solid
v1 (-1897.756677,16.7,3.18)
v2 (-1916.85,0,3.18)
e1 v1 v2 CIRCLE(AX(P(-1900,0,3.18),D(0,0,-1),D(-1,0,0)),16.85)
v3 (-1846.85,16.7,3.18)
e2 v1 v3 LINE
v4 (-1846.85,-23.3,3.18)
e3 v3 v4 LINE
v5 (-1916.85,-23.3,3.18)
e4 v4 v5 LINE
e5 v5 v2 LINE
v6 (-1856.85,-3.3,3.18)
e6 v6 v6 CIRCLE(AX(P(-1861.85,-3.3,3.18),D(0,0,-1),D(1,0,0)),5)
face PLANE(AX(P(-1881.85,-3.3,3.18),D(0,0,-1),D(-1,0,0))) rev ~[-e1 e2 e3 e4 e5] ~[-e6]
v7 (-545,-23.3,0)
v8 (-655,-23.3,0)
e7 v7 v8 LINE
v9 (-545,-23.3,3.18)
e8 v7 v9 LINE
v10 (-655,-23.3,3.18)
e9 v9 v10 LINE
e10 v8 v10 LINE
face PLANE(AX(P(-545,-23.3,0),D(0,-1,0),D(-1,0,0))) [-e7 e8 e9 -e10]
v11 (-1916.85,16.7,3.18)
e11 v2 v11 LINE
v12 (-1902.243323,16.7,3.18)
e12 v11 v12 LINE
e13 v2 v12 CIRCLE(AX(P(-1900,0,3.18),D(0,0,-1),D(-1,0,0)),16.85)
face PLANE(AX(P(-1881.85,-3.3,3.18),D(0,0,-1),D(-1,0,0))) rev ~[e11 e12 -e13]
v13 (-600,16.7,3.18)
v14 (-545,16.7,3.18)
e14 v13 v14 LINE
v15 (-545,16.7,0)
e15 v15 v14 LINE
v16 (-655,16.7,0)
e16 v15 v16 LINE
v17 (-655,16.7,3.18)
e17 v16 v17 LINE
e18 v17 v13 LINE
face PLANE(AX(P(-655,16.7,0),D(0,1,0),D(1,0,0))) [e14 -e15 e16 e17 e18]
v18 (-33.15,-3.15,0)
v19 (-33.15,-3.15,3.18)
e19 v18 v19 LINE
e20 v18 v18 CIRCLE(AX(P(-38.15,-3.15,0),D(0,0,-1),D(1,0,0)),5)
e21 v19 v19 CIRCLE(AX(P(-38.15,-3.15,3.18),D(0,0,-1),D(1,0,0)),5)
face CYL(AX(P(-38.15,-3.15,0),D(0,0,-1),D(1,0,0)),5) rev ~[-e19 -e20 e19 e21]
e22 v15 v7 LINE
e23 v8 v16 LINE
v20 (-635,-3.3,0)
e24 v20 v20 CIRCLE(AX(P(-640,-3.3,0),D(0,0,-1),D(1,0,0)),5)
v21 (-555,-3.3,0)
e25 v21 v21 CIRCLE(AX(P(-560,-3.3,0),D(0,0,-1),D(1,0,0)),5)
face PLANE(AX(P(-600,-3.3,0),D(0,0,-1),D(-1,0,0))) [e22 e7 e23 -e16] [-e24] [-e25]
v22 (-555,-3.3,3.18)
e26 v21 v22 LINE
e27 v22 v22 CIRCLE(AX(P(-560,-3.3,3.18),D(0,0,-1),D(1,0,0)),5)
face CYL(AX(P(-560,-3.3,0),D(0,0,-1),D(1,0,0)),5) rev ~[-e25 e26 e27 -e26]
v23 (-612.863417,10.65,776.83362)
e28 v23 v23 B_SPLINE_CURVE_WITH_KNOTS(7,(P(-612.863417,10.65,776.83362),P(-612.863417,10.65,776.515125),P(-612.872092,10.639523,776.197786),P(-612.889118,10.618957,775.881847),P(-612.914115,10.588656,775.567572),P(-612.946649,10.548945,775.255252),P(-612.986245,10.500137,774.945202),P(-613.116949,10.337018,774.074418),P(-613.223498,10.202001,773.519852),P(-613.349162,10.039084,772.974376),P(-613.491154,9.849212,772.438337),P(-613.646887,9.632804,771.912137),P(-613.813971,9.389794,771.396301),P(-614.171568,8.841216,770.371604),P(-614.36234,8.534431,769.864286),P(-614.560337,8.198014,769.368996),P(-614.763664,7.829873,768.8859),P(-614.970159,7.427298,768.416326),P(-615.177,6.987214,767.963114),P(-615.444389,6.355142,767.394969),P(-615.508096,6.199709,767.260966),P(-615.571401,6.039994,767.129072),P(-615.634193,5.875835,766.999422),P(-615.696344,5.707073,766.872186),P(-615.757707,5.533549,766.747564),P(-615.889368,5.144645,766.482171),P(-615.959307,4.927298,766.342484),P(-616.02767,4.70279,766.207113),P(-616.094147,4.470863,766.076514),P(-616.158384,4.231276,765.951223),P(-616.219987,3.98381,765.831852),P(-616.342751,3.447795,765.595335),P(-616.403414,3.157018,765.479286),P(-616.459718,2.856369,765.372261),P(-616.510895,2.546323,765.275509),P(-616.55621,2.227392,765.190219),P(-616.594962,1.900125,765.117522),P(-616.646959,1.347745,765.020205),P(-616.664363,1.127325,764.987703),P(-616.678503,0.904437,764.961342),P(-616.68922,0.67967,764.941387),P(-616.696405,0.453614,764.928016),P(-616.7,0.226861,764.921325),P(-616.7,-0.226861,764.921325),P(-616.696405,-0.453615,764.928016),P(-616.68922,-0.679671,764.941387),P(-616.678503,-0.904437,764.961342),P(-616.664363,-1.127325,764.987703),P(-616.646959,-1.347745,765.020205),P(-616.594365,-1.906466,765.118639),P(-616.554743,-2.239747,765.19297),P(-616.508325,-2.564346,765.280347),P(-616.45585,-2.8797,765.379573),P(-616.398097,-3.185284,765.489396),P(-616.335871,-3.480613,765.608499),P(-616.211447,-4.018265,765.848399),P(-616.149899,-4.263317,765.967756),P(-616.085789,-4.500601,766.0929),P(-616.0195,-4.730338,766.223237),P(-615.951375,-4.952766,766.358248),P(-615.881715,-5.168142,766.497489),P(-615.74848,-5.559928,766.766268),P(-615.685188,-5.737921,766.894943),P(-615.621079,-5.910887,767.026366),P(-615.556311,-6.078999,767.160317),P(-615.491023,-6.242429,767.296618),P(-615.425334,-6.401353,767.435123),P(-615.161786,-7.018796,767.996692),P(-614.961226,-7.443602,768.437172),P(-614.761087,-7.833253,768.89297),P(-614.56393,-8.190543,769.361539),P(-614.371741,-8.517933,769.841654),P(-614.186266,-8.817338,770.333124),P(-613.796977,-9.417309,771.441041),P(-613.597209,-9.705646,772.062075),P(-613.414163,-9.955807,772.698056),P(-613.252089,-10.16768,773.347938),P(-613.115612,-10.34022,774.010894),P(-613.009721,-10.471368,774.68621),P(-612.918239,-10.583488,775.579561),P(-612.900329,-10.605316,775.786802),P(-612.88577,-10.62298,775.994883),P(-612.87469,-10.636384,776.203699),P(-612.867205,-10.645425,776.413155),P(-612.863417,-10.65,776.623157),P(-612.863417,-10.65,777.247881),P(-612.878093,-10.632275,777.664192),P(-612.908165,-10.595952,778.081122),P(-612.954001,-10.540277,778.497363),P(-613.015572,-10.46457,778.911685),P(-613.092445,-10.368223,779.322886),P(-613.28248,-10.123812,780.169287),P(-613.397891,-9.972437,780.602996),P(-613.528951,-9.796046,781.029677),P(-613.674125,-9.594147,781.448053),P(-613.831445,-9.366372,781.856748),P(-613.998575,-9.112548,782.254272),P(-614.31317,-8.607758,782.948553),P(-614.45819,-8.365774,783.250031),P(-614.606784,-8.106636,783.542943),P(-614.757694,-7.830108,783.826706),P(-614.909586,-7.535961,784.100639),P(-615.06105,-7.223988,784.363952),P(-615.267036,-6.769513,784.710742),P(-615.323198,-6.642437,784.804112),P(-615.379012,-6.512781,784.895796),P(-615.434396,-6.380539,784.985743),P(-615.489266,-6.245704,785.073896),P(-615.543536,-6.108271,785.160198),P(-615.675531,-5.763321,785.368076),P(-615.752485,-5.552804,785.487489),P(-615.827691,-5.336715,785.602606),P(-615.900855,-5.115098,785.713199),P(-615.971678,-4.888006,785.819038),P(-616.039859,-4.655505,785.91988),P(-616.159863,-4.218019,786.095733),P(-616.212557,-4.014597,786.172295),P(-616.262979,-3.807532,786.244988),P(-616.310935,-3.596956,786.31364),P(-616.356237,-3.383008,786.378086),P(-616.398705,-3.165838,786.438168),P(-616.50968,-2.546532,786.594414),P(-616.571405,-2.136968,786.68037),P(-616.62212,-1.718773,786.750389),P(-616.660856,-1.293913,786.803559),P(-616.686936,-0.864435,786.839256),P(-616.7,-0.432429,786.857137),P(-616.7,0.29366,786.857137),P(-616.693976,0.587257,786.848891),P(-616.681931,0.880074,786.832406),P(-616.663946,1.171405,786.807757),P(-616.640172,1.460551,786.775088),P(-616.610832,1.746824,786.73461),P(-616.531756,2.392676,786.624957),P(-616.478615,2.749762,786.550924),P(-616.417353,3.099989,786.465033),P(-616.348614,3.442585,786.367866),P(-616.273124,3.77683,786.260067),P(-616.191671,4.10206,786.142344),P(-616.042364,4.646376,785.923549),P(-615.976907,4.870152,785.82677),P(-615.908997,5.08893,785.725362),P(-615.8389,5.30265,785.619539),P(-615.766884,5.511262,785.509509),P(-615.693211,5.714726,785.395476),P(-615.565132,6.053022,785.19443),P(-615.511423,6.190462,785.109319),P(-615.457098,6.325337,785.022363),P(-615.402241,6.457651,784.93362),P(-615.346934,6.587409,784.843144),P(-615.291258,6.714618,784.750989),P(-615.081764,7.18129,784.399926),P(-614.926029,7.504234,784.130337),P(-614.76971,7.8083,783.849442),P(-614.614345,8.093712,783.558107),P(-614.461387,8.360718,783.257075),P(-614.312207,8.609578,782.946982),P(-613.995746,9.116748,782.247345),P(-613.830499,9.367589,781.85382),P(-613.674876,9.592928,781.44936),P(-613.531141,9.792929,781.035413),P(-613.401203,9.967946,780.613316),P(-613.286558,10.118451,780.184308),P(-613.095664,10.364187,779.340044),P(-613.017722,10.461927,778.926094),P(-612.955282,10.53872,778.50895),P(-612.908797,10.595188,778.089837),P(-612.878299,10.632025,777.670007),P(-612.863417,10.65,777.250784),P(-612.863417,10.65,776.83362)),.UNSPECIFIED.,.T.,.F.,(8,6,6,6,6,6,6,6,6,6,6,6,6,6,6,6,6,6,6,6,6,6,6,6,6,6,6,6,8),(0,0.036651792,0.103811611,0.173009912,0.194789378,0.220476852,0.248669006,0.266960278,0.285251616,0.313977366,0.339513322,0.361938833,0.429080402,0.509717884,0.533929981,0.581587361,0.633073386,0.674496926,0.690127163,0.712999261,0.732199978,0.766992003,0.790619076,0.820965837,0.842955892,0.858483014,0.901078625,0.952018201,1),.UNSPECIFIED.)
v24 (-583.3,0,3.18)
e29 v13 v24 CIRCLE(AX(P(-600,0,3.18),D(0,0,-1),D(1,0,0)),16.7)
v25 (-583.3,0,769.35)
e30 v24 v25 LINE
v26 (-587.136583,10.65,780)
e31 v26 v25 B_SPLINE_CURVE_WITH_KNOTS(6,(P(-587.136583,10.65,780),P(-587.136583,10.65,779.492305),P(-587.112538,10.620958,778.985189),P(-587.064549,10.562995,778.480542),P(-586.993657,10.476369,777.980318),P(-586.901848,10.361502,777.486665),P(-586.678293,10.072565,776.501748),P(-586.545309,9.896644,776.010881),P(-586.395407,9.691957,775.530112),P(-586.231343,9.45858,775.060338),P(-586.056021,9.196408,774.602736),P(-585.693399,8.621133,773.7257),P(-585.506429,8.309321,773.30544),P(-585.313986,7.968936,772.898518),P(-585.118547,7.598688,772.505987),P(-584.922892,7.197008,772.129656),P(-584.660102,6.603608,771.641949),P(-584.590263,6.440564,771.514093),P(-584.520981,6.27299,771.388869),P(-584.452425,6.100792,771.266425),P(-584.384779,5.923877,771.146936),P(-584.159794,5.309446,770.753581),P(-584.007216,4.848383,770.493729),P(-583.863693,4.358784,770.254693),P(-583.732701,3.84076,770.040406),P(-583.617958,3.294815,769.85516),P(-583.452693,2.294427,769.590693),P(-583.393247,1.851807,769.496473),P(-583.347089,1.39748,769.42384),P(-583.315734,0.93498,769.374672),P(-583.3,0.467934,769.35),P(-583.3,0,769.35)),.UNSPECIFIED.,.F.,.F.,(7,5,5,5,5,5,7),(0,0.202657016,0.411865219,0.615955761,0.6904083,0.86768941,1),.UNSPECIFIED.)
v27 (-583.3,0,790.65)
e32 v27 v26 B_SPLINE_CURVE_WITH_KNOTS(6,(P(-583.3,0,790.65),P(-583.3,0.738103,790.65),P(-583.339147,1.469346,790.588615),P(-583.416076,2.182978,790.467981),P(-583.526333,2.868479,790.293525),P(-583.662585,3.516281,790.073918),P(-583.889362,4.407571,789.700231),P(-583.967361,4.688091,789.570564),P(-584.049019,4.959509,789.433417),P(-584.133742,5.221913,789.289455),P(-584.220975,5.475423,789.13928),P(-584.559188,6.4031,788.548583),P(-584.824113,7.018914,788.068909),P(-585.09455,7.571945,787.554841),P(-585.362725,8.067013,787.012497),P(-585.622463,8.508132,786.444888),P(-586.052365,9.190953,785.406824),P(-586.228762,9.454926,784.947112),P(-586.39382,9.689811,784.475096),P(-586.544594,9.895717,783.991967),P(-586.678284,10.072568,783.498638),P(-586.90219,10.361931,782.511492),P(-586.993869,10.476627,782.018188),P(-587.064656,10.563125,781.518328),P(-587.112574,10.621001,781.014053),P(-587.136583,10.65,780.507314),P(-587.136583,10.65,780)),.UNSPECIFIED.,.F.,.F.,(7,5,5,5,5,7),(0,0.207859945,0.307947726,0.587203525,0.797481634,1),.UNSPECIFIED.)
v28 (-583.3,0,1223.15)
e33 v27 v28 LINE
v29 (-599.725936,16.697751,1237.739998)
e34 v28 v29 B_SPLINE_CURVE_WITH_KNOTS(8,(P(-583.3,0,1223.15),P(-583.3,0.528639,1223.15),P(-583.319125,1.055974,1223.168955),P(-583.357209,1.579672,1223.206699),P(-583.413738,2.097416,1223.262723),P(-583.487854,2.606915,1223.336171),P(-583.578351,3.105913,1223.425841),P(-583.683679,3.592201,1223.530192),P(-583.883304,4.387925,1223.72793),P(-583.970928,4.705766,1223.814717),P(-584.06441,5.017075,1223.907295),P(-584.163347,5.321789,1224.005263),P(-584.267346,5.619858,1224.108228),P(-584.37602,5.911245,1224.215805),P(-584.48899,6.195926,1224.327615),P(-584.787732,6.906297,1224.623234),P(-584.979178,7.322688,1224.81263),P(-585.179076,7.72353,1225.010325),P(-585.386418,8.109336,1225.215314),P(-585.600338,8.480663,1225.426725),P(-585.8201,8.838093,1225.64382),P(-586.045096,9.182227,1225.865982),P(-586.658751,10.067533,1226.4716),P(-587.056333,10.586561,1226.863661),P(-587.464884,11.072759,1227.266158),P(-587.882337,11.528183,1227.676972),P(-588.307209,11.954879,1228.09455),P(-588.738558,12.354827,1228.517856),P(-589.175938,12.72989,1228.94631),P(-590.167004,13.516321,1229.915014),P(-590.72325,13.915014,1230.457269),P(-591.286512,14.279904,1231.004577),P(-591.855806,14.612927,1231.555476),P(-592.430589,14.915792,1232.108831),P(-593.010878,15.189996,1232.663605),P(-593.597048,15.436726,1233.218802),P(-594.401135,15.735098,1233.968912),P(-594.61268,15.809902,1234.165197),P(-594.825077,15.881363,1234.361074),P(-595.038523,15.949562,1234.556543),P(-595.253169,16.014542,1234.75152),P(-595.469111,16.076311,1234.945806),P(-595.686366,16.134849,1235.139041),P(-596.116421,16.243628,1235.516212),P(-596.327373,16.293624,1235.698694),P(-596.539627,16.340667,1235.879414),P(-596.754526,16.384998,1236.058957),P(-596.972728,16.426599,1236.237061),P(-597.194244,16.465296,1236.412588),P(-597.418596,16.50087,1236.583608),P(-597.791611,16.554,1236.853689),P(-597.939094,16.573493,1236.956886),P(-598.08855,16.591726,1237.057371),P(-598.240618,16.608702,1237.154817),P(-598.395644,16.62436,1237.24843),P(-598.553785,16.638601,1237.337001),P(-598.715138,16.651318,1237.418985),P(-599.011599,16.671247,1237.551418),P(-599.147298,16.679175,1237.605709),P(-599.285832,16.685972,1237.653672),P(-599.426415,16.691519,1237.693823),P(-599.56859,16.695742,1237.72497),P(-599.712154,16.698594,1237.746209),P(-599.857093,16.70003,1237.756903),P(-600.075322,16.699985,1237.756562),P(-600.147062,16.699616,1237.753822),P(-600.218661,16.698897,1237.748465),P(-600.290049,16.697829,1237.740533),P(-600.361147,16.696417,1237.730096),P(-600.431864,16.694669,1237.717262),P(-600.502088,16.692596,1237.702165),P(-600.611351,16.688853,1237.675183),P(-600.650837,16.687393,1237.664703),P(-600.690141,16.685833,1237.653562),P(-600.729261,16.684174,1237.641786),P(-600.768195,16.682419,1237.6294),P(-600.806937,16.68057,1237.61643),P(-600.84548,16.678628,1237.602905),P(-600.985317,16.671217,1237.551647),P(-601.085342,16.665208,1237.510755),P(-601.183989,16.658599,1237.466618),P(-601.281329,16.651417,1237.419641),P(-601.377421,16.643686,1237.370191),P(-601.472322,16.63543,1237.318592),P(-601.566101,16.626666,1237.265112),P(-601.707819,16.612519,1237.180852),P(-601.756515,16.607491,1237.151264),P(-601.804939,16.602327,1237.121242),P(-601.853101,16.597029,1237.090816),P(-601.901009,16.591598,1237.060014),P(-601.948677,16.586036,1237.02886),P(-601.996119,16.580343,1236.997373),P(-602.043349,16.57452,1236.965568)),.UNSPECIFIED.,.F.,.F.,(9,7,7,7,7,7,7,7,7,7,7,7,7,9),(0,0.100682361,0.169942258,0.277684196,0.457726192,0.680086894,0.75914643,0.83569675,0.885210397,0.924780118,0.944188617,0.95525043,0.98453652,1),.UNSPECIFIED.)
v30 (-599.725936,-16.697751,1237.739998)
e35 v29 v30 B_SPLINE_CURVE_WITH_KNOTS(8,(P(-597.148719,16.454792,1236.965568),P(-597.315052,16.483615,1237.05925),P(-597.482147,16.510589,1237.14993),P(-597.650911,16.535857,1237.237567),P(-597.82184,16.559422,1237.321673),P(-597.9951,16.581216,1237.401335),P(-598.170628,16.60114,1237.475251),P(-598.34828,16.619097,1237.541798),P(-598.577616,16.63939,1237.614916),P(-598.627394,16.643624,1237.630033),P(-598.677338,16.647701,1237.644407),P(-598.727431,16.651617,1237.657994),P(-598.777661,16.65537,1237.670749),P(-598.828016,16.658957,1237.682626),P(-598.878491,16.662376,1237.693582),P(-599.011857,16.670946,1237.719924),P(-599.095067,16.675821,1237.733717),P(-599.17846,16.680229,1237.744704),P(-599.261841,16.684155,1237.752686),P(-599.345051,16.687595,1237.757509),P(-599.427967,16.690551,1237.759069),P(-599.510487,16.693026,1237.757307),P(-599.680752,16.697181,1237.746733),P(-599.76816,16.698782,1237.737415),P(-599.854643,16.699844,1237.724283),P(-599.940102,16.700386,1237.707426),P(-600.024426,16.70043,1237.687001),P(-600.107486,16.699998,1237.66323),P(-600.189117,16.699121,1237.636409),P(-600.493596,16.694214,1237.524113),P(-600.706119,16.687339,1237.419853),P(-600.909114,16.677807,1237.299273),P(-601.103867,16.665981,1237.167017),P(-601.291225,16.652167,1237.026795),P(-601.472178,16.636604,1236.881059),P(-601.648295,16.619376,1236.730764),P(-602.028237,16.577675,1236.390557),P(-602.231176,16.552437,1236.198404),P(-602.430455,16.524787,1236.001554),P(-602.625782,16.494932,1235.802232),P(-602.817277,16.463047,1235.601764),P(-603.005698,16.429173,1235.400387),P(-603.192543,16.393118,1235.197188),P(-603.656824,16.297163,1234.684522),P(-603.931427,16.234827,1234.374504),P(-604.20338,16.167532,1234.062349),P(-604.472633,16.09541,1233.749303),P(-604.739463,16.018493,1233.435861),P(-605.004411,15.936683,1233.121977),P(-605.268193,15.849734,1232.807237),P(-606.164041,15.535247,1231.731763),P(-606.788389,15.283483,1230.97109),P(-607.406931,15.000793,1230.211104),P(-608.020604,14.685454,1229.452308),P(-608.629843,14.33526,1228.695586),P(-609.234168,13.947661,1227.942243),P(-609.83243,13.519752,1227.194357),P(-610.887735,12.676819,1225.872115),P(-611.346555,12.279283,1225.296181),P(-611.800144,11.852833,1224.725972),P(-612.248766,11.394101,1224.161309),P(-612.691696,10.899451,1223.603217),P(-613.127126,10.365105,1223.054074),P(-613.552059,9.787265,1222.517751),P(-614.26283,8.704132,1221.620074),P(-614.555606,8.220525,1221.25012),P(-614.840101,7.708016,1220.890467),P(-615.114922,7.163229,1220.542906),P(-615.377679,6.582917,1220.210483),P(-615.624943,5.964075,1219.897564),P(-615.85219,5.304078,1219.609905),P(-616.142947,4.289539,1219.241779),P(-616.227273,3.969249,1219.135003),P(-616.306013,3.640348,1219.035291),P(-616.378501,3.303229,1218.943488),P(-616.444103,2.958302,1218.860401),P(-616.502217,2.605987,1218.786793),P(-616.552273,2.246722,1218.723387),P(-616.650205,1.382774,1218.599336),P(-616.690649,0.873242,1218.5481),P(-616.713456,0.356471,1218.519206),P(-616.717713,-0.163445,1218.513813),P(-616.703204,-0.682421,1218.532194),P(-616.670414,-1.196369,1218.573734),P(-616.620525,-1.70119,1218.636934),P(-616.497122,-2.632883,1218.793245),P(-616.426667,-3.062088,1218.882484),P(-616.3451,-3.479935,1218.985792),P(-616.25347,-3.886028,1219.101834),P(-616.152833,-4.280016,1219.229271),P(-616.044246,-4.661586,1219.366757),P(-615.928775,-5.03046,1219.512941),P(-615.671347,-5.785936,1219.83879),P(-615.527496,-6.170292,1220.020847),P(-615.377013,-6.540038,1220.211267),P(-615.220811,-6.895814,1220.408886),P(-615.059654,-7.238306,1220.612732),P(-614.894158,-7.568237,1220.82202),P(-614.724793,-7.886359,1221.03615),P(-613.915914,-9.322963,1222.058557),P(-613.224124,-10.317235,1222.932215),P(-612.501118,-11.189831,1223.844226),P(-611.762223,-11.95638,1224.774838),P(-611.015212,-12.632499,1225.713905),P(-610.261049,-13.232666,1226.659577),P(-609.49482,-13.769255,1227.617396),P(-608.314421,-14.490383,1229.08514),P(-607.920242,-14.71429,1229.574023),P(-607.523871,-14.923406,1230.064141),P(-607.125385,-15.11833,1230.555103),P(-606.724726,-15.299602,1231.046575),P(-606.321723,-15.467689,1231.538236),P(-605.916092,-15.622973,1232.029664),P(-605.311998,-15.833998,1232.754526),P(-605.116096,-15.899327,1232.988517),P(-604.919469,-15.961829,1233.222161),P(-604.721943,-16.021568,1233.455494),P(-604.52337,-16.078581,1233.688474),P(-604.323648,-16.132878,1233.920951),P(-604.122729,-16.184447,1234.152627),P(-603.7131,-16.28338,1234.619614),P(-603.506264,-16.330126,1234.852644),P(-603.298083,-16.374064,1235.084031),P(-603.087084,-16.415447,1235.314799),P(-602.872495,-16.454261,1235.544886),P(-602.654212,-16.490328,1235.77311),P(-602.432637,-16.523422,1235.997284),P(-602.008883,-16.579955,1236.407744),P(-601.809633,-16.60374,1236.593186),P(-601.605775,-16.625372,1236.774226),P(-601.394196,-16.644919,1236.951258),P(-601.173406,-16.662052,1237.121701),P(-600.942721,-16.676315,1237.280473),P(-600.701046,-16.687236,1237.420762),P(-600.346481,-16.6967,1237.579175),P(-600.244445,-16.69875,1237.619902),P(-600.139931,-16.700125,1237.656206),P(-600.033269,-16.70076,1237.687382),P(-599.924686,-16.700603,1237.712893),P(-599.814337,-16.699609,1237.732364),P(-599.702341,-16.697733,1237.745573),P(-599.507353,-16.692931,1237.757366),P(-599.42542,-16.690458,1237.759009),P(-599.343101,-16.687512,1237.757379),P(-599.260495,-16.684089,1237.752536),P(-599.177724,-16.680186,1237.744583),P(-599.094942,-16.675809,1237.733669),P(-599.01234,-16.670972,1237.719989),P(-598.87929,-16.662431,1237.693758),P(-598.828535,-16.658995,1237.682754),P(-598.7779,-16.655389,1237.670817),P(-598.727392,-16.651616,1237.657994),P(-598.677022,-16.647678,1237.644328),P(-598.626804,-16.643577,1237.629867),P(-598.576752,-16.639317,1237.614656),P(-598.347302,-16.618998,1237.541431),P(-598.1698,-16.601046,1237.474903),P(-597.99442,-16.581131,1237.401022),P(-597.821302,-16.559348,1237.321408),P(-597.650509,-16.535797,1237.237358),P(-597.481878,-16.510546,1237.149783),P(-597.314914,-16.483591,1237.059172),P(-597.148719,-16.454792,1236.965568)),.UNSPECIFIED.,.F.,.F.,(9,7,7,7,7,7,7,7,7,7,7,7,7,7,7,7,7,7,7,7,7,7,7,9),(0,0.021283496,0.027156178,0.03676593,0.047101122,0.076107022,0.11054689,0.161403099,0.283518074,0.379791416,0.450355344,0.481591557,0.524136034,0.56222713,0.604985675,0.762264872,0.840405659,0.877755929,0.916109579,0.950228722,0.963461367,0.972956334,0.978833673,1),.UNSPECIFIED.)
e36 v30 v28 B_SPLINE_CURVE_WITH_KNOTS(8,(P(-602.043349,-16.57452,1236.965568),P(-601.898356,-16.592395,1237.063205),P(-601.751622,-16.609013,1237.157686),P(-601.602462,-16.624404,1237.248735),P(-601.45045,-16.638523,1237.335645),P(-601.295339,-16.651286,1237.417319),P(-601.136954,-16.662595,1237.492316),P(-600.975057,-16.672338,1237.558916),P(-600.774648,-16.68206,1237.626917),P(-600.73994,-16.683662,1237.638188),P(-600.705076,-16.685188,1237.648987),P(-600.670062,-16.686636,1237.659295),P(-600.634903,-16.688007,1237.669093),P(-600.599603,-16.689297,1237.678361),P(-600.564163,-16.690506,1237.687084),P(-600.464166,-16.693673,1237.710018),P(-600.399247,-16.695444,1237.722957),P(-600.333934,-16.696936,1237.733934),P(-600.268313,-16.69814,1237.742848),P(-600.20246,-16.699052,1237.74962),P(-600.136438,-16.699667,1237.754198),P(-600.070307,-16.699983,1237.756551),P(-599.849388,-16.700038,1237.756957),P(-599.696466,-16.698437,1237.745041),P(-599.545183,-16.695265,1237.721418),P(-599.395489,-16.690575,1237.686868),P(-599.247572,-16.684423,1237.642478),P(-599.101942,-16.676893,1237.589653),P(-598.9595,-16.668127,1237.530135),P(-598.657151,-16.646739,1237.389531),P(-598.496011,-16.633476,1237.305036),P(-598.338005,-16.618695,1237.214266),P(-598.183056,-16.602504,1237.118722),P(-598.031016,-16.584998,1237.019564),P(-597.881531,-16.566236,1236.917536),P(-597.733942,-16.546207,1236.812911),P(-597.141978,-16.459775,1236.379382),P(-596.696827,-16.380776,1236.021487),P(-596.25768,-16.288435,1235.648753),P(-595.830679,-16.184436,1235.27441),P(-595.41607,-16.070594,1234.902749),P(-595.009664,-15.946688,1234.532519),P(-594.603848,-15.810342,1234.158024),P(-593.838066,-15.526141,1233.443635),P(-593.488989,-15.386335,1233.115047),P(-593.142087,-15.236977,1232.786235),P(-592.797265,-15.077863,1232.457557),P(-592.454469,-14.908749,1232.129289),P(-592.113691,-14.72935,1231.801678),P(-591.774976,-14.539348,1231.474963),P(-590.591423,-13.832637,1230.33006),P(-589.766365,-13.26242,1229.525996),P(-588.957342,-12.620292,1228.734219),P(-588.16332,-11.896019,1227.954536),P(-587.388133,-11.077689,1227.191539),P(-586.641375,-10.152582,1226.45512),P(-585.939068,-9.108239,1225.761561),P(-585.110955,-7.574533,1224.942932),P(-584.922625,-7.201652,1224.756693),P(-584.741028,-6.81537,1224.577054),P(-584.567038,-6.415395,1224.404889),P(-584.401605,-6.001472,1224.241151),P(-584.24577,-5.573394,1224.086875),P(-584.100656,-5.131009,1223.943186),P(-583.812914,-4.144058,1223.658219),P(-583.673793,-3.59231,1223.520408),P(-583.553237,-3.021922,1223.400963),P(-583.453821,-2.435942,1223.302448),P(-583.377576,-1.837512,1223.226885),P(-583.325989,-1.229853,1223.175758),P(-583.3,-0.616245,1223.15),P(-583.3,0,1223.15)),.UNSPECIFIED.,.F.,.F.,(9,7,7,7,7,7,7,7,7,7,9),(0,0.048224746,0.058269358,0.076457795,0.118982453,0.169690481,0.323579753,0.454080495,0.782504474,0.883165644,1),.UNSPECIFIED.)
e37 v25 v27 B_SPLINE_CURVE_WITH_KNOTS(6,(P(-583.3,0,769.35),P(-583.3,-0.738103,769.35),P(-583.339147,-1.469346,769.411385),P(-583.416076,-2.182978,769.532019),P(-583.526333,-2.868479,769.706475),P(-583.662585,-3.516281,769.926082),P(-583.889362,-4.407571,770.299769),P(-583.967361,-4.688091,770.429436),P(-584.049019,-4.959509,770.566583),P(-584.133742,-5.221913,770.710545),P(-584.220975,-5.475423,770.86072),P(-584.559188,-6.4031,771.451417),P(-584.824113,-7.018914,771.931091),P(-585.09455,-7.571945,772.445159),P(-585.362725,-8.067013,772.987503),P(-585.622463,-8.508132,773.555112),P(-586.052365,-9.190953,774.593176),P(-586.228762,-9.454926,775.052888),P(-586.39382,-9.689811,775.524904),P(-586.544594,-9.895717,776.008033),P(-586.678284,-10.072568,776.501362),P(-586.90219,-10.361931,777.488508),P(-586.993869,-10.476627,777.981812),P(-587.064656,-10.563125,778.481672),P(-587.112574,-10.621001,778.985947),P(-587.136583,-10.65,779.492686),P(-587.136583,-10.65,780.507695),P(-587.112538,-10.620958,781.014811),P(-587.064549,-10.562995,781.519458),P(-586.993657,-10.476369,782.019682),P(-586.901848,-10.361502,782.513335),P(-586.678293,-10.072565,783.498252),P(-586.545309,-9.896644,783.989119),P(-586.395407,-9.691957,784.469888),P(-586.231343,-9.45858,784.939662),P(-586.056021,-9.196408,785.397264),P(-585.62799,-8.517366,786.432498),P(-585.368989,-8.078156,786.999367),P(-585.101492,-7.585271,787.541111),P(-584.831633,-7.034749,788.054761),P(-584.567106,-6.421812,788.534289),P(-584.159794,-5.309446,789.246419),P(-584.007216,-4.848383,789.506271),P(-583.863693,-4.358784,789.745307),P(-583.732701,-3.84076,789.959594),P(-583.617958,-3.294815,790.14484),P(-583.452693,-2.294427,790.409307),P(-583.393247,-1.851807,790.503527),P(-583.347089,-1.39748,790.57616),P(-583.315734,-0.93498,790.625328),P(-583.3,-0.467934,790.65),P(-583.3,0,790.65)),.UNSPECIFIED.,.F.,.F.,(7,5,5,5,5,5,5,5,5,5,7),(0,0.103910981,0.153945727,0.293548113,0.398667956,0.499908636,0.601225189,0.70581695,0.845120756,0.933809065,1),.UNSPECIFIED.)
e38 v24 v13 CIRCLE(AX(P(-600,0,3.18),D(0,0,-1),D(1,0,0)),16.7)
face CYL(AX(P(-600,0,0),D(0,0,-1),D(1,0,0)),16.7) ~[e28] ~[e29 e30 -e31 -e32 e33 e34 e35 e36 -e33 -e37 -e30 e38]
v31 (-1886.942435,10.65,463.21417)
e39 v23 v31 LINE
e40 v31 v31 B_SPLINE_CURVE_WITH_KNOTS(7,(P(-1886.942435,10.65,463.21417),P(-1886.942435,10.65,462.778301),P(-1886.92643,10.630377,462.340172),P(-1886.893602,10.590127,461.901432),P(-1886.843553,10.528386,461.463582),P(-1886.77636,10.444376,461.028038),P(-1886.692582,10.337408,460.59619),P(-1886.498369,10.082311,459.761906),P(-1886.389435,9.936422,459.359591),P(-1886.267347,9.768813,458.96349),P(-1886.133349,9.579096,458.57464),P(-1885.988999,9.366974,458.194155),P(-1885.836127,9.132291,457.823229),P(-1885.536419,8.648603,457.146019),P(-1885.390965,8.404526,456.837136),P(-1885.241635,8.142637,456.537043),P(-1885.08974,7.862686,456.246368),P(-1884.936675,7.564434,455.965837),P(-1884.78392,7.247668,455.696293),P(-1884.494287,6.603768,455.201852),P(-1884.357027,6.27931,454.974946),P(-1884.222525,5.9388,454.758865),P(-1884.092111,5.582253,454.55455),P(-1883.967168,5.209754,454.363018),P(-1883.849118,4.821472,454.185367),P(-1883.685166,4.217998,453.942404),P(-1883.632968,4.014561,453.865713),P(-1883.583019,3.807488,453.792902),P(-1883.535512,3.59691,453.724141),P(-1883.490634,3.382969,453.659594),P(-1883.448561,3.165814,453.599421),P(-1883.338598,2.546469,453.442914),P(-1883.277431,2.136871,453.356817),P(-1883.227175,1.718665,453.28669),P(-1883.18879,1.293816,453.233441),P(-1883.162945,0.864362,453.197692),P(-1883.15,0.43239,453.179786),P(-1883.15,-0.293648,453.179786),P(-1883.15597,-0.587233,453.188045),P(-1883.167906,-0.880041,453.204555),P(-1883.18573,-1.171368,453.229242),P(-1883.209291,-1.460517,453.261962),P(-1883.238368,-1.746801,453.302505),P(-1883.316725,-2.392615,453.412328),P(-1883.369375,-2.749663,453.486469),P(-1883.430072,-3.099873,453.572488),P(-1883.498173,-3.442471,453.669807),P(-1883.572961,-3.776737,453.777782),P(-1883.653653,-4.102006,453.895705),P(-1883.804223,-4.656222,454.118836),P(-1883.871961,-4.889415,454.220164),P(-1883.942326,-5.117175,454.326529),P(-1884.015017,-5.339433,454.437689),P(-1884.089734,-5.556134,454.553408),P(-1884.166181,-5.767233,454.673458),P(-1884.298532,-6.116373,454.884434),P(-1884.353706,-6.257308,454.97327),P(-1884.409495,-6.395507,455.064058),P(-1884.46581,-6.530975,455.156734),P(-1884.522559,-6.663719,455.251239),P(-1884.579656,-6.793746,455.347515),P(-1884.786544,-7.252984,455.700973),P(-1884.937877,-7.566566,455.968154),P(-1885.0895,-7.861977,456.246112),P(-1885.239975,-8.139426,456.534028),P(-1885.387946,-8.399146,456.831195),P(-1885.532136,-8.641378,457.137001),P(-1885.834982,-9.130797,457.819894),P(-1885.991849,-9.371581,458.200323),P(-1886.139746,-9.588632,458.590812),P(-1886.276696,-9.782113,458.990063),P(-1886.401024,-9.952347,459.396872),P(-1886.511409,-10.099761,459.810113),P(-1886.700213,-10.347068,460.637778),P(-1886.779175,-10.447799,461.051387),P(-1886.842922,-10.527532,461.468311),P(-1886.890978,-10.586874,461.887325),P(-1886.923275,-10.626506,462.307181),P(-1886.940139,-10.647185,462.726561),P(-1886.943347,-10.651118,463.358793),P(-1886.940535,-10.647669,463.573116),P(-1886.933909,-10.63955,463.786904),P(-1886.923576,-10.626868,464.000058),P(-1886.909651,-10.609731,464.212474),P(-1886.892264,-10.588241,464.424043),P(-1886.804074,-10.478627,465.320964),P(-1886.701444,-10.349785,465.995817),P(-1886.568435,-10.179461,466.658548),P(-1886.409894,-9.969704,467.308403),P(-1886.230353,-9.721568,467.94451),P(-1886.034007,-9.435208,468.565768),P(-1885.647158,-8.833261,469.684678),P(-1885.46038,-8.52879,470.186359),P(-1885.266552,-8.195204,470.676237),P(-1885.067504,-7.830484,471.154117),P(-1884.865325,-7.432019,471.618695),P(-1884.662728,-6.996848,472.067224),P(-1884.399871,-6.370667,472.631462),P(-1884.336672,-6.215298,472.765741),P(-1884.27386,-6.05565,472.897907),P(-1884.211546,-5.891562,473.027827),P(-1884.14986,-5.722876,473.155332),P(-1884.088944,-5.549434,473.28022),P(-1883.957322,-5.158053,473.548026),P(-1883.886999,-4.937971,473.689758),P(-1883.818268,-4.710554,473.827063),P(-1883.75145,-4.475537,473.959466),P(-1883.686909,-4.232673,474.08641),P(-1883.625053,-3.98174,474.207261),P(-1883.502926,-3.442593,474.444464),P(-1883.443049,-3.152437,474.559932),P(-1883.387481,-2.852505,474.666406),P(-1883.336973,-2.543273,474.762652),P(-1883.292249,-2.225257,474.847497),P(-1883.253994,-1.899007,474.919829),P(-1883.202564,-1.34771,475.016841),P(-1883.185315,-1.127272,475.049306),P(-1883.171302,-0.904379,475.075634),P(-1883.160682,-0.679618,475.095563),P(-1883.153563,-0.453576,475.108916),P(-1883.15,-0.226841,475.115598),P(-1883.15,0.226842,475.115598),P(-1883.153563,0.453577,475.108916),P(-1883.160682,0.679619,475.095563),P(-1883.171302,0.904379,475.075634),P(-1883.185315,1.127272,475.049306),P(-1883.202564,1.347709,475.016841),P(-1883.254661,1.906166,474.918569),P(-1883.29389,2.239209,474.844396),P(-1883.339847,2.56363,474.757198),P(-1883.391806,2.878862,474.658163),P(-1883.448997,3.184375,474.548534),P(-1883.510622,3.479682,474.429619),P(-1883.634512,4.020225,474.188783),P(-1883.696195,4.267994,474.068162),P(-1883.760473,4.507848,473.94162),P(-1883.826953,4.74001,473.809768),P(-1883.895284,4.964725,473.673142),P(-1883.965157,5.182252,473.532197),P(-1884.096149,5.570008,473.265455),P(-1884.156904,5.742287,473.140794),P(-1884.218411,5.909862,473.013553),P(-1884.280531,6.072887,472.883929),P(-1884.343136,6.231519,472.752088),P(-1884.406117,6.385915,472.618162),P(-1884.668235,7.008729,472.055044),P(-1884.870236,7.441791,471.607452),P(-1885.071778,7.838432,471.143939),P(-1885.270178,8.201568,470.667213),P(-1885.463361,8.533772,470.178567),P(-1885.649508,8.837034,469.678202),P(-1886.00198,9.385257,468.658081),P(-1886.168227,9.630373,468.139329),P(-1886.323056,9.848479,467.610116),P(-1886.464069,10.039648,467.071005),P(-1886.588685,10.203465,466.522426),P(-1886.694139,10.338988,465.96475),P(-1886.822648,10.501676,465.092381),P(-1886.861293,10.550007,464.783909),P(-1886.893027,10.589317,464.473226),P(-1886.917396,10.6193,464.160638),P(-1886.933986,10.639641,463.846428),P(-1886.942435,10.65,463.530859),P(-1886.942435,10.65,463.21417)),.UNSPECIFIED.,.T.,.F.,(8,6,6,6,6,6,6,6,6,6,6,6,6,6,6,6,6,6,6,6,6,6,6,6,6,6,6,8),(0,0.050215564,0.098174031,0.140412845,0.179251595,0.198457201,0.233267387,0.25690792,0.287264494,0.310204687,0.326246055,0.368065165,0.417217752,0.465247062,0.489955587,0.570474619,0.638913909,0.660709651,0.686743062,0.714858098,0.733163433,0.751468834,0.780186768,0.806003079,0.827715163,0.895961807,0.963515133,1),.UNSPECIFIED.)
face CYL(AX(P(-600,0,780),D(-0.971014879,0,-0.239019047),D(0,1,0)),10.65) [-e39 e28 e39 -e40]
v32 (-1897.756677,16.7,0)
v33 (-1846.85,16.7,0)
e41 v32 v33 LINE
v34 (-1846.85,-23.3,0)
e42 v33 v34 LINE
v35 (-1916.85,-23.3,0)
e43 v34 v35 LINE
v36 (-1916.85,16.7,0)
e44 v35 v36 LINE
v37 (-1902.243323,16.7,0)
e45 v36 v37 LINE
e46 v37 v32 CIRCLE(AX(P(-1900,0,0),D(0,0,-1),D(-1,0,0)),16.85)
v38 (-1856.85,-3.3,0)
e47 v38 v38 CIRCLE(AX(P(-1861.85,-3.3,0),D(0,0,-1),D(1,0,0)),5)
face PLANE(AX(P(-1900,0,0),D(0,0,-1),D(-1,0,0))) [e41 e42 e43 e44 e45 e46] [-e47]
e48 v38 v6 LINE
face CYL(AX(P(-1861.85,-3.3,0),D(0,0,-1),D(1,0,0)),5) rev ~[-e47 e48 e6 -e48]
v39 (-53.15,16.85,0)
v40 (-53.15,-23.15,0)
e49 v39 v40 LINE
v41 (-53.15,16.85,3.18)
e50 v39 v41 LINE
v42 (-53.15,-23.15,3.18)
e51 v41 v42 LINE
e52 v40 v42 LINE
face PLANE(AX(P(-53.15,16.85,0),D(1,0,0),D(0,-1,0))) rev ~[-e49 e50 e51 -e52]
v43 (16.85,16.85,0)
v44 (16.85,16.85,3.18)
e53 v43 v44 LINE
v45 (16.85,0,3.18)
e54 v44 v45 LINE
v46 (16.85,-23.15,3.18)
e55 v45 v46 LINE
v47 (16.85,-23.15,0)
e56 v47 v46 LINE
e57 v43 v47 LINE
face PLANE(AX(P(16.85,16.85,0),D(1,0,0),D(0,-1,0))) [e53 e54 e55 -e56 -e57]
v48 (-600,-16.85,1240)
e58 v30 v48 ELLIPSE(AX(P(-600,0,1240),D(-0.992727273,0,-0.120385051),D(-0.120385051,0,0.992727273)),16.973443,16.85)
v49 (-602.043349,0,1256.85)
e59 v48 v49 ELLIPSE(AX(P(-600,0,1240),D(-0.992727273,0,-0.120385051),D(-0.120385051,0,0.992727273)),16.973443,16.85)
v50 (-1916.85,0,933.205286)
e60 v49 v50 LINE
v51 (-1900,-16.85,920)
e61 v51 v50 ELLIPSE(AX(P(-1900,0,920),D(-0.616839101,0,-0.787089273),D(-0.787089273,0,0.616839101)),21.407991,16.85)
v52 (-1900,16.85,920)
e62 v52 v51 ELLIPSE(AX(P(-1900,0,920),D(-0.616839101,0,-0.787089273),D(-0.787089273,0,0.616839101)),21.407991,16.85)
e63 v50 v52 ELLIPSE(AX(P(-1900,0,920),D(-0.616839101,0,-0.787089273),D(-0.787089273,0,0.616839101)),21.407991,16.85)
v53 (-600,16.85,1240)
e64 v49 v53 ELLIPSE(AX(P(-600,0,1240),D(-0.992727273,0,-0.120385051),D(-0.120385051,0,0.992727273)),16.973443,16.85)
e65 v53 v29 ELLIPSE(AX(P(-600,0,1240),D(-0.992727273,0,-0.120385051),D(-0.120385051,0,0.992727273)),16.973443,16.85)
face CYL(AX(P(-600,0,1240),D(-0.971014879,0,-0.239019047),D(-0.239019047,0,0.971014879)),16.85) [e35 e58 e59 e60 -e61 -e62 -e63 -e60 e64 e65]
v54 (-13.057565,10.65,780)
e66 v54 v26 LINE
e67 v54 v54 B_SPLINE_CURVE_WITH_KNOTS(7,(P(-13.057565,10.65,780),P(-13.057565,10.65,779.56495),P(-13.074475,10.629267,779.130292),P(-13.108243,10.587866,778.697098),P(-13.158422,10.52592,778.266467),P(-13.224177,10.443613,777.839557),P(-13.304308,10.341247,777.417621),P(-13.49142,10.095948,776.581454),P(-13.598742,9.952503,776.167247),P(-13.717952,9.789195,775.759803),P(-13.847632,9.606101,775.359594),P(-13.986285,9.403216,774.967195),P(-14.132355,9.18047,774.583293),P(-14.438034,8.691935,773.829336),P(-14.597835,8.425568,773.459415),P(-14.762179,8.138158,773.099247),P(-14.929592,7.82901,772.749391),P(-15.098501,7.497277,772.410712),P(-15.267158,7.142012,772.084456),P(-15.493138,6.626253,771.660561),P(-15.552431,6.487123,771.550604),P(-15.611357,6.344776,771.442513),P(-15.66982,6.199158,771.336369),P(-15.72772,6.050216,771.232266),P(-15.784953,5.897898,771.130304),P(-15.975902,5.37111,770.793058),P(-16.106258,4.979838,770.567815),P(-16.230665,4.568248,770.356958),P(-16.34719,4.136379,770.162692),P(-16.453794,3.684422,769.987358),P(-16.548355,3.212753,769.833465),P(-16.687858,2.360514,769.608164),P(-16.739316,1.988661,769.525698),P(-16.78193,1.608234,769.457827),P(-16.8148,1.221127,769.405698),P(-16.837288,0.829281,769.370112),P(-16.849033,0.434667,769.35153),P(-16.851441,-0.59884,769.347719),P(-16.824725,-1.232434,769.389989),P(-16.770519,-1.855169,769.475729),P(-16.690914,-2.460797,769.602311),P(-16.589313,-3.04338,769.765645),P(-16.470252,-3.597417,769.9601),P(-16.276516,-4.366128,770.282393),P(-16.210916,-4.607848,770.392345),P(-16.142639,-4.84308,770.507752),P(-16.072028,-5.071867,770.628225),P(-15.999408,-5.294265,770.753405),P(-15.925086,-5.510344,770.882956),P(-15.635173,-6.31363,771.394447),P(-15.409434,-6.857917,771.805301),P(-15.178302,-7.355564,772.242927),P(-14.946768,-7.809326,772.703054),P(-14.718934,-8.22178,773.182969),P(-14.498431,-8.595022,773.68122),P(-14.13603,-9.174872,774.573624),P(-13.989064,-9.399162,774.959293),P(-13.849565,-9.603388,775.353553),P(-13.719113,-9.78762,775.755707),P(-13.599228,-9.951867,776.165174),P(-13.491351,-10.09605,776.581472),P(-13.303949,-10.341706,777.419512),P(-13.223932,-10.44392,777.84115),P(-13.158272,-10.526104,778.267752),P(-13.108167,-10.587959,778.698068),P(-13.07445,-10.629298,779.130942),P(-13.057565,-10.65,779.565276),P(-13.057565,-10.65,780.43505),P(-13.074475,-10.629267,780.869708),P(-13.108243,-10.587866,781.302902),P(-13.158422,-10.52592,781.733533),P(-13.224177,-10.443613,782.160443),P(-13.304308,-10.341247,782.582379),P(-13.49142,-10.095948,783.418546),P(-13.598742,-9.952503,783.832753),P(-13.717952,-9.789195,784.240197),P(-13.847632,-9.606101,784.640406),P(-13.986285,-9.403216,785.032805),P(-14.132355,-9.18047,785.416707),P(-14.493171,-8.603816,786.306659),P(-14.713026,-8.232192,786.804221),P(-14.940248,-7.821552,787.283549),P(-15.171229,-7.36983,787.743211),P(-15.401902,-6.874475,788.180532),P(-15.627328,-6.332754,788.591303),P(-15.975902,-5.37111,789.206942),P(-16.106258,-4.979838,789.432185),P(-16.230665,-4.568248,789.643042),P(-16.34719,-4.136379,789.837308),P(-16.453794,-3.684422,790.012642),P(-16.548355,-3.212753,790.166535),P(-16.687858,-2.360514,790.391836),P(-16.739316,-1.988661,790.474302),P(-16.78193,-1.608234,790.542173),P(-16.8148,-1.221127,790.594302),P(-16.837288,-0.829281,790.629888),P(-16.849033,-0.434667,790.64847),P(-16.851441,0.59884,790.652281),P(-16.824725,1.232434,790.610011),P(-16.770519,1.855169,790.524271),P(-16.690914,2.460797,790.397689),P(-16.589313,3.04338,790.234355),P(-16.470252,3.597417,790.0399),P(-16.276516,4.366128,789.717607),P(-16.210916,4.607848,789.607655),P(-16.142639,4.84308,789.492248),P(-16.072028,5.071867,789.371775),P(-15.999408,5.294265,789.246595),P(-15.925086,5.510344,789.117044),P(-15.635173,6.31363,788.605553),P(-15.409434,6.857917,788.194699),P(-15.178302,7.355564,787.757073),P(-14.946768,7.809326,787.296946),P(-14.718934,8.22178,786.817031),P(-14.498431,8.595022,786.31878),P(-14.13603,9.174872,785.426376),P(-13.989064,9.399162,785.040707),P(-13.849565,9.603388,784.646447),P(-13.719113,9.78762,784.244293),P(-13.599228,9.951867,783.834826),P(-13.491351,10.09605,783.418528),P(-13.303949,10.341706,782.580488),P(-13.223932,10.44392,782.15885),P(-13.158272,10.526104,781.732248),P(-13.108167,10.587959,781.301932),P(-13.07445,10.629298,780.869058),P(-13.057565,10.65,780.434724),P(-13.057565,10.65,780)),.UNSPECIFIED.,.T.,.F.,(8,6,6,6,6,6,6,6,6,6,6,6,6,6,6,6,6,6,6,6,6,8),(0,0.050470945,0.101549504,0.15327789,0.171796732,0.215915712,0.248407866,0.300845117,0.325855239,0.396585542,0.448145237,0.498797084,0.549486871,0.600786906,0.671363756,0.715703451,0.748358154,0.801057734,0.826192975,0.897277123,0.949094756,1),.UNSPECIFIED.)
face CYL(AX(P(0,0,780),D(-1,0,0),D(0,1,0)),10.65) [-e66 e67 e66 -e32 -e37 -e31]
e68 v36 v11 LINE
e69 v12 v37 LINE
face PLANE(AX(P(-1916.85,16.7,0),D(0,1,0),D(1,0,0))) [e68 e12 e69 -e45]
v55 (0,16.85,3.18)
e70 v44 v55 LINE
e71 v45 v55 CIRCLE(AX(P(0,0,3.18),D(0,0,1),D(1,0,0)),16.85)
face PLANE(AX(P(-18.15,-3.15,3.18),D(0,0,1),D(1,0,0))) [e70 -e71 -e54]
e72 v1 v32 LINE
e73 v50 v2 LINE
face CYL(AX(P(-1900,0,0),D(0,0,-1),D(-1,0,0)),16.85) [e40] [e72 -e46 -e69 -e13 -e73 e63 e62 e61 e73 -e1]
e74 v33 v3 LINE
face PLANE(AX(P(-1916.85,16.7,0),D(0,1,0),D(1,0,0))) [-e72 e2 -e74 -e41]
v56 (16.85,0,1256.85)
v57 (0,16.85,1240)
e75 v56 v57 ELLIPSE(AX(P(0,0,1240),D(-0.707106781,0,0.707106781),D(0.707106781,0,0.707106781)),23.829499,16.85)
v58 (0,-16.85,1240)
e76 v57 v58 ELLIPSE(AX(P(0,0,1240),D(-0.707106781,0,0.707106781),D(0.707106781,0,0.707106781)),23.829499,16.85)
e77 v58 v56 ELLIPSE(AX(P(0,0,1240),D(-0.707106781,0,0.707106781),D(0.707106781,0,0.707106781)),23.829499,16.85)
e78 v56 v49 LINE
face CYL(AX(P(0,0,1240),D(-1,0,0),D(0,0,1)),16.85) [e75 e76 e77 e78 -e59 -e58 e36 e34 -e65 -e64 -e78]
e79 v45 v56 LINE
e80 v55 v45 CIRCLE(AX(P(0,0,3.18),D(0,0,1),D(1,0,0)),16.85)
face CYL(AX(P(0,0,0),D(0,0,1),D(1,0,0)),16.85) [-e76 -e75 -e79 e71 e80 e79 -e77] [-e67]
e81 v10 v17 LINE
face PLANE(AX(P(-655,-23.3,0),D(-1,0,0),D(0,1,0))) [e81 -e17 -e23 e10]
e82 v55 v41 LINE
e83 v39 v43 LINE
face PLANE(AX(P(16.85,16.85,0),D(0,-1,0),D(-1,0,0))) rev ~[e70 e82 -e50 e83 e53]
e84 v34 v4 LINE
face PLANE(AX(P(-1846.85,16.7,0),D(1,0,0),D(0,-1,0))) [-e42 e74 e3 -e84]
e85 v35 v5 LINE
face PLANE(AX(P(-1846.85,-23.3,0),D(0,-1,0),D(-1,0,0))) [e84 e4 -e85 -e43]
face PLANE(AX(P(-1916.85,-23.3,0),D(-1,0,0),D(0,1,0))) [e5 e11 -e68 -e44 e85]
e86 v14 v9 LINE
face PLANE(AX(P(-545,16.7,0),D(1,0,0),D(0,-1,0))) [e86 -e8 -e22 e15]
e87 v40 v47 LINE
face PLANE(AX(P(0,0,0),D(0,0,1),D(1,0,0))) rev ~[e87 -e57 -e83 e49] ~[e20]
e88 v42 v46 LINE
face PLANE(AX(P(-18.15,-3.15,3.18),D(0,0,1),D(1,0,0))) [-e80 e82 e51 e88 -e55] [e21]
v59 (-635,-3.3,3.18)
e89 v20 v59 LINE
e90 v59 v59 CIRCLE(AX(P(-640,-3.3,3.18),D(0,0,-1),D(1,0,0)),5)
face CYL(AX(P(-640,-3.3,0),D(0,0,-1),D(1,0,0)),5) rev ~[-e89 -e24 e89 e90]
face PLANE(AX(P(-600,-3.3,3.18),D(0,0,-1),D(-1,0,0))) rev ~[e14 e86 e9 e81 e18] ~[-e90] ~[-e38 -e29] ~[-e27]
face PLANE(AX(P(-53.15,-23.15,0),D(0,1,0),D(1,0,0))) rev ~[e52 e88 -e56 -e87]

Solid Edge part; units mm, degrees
sketch "Sketch1" plane through (0, 0, 0) normal (0, -1, 0) x (1, 0, 0)
  line L0 (0, 0) -> (0, 1240)
  line L1 (0, 1240) -> (-600, 1240)
  line L2 (-600, 1240) -> (-1900, 920)
  line L3 (-1900, 0) -> (-1900, 920)
sketch "Sketch2" plane through (0, 0, 0) normal (0, 0, 1) x (1, 0, 0)
  circle A0 centre (0, 0) radius 16.85
sweep "SweptProtrusion_1" add profiles "Sketch2" path "Sketch1"
sketch "Sketch3" plane through (0, 0, 0) normal (0, 0, 1) x (1, 0, 0)
  line L0 (-1916.85, 16.7) -> (-1846.85, 16.7)
  line L1 (-1846.85, 16.7) -> (-1846.85, -23.3)
  line L2 (-1846.85, -23.3) -> (-1916.85, -23.3)
  line L3 (-1916.85, -23.3) -> (-1916.85, 16.7)
  line L4 (-655, 16.7) -> (-545, 16.7)
  line L5 (-545, 16.7) -> (-545, -23.3)
  line L6 (-545, -23.3) -> (-655, -23.3)
  line L7 (-655, -23.3) -> (-655, 16.7)
  line L8 (-53.15, -23.15) -> (16.85, -23.15)
  line L9 (16.85, 16.85) -> (16.85, -23.15)
  line L10 (16.85, 16.85) -> (-53.15, 16.85)
  line L11 (-53.15, 16.85) -> (-53.15, -23.15)
  dimension "D1" = 70
  dimension "D2" = 40
  dimension "D3" = 40
  dimension "D4" = 110
  dimension "D5" = 600
  dimension "D6" = 40
  dimension "D7" = 70
extrude "ExtrudedProtrusion_1" add sketch "Sketch3" along normal blind 3.18
sketch "Sketch4" plane through (0, 0, 0) normal (0, 0, 1) x (1, 0, 0)
  circle A0 centre (-600, 0) radius 16.7
extrude "Protrusion1" add sketch "Sketch4" along normal up to vertex (1240 mm away)
sketch "Sketch5" plane through (0, 0, 0) normal (0, -1, 0) x (1, 0, 0)
  line L0 (0, 780) -> (-600, 780)
  line L1 (-600, 780) -> (-1900, 460)
sketch "Sketch6" plane through (0, 0, 780) normal (1, 0, 0) x (0, 1, 0)
  circle A0 centre (0, 0) radius 10.65
sweep "SweptProtrusion_2" add profiles "Sketch6" path "Sketch5"
sketch "Sketch7" plane through (-600, -3.3, 0) normal (0, 0, -1) x (1, 0, 0)
  circle A0 centre (-40, 0) radius 5
  circle A1 centre (40, 0) radius 5
  circle A2 centre (-1261.85, 0) radius 5
  circle A3 centre (561.85, -0.15) radius 5
  dimension "D1" = 10
  dimension "D2" = 10
  dimension "D3" = 15
  dimension "D4" = 15
  dimension "D5" = 10
  dimension "D6" = 15
  dimension "D7" = 15
  dimension "D8" = 10
extrude "Cutout1" cut sketch "Sketch7" against normal up to next
